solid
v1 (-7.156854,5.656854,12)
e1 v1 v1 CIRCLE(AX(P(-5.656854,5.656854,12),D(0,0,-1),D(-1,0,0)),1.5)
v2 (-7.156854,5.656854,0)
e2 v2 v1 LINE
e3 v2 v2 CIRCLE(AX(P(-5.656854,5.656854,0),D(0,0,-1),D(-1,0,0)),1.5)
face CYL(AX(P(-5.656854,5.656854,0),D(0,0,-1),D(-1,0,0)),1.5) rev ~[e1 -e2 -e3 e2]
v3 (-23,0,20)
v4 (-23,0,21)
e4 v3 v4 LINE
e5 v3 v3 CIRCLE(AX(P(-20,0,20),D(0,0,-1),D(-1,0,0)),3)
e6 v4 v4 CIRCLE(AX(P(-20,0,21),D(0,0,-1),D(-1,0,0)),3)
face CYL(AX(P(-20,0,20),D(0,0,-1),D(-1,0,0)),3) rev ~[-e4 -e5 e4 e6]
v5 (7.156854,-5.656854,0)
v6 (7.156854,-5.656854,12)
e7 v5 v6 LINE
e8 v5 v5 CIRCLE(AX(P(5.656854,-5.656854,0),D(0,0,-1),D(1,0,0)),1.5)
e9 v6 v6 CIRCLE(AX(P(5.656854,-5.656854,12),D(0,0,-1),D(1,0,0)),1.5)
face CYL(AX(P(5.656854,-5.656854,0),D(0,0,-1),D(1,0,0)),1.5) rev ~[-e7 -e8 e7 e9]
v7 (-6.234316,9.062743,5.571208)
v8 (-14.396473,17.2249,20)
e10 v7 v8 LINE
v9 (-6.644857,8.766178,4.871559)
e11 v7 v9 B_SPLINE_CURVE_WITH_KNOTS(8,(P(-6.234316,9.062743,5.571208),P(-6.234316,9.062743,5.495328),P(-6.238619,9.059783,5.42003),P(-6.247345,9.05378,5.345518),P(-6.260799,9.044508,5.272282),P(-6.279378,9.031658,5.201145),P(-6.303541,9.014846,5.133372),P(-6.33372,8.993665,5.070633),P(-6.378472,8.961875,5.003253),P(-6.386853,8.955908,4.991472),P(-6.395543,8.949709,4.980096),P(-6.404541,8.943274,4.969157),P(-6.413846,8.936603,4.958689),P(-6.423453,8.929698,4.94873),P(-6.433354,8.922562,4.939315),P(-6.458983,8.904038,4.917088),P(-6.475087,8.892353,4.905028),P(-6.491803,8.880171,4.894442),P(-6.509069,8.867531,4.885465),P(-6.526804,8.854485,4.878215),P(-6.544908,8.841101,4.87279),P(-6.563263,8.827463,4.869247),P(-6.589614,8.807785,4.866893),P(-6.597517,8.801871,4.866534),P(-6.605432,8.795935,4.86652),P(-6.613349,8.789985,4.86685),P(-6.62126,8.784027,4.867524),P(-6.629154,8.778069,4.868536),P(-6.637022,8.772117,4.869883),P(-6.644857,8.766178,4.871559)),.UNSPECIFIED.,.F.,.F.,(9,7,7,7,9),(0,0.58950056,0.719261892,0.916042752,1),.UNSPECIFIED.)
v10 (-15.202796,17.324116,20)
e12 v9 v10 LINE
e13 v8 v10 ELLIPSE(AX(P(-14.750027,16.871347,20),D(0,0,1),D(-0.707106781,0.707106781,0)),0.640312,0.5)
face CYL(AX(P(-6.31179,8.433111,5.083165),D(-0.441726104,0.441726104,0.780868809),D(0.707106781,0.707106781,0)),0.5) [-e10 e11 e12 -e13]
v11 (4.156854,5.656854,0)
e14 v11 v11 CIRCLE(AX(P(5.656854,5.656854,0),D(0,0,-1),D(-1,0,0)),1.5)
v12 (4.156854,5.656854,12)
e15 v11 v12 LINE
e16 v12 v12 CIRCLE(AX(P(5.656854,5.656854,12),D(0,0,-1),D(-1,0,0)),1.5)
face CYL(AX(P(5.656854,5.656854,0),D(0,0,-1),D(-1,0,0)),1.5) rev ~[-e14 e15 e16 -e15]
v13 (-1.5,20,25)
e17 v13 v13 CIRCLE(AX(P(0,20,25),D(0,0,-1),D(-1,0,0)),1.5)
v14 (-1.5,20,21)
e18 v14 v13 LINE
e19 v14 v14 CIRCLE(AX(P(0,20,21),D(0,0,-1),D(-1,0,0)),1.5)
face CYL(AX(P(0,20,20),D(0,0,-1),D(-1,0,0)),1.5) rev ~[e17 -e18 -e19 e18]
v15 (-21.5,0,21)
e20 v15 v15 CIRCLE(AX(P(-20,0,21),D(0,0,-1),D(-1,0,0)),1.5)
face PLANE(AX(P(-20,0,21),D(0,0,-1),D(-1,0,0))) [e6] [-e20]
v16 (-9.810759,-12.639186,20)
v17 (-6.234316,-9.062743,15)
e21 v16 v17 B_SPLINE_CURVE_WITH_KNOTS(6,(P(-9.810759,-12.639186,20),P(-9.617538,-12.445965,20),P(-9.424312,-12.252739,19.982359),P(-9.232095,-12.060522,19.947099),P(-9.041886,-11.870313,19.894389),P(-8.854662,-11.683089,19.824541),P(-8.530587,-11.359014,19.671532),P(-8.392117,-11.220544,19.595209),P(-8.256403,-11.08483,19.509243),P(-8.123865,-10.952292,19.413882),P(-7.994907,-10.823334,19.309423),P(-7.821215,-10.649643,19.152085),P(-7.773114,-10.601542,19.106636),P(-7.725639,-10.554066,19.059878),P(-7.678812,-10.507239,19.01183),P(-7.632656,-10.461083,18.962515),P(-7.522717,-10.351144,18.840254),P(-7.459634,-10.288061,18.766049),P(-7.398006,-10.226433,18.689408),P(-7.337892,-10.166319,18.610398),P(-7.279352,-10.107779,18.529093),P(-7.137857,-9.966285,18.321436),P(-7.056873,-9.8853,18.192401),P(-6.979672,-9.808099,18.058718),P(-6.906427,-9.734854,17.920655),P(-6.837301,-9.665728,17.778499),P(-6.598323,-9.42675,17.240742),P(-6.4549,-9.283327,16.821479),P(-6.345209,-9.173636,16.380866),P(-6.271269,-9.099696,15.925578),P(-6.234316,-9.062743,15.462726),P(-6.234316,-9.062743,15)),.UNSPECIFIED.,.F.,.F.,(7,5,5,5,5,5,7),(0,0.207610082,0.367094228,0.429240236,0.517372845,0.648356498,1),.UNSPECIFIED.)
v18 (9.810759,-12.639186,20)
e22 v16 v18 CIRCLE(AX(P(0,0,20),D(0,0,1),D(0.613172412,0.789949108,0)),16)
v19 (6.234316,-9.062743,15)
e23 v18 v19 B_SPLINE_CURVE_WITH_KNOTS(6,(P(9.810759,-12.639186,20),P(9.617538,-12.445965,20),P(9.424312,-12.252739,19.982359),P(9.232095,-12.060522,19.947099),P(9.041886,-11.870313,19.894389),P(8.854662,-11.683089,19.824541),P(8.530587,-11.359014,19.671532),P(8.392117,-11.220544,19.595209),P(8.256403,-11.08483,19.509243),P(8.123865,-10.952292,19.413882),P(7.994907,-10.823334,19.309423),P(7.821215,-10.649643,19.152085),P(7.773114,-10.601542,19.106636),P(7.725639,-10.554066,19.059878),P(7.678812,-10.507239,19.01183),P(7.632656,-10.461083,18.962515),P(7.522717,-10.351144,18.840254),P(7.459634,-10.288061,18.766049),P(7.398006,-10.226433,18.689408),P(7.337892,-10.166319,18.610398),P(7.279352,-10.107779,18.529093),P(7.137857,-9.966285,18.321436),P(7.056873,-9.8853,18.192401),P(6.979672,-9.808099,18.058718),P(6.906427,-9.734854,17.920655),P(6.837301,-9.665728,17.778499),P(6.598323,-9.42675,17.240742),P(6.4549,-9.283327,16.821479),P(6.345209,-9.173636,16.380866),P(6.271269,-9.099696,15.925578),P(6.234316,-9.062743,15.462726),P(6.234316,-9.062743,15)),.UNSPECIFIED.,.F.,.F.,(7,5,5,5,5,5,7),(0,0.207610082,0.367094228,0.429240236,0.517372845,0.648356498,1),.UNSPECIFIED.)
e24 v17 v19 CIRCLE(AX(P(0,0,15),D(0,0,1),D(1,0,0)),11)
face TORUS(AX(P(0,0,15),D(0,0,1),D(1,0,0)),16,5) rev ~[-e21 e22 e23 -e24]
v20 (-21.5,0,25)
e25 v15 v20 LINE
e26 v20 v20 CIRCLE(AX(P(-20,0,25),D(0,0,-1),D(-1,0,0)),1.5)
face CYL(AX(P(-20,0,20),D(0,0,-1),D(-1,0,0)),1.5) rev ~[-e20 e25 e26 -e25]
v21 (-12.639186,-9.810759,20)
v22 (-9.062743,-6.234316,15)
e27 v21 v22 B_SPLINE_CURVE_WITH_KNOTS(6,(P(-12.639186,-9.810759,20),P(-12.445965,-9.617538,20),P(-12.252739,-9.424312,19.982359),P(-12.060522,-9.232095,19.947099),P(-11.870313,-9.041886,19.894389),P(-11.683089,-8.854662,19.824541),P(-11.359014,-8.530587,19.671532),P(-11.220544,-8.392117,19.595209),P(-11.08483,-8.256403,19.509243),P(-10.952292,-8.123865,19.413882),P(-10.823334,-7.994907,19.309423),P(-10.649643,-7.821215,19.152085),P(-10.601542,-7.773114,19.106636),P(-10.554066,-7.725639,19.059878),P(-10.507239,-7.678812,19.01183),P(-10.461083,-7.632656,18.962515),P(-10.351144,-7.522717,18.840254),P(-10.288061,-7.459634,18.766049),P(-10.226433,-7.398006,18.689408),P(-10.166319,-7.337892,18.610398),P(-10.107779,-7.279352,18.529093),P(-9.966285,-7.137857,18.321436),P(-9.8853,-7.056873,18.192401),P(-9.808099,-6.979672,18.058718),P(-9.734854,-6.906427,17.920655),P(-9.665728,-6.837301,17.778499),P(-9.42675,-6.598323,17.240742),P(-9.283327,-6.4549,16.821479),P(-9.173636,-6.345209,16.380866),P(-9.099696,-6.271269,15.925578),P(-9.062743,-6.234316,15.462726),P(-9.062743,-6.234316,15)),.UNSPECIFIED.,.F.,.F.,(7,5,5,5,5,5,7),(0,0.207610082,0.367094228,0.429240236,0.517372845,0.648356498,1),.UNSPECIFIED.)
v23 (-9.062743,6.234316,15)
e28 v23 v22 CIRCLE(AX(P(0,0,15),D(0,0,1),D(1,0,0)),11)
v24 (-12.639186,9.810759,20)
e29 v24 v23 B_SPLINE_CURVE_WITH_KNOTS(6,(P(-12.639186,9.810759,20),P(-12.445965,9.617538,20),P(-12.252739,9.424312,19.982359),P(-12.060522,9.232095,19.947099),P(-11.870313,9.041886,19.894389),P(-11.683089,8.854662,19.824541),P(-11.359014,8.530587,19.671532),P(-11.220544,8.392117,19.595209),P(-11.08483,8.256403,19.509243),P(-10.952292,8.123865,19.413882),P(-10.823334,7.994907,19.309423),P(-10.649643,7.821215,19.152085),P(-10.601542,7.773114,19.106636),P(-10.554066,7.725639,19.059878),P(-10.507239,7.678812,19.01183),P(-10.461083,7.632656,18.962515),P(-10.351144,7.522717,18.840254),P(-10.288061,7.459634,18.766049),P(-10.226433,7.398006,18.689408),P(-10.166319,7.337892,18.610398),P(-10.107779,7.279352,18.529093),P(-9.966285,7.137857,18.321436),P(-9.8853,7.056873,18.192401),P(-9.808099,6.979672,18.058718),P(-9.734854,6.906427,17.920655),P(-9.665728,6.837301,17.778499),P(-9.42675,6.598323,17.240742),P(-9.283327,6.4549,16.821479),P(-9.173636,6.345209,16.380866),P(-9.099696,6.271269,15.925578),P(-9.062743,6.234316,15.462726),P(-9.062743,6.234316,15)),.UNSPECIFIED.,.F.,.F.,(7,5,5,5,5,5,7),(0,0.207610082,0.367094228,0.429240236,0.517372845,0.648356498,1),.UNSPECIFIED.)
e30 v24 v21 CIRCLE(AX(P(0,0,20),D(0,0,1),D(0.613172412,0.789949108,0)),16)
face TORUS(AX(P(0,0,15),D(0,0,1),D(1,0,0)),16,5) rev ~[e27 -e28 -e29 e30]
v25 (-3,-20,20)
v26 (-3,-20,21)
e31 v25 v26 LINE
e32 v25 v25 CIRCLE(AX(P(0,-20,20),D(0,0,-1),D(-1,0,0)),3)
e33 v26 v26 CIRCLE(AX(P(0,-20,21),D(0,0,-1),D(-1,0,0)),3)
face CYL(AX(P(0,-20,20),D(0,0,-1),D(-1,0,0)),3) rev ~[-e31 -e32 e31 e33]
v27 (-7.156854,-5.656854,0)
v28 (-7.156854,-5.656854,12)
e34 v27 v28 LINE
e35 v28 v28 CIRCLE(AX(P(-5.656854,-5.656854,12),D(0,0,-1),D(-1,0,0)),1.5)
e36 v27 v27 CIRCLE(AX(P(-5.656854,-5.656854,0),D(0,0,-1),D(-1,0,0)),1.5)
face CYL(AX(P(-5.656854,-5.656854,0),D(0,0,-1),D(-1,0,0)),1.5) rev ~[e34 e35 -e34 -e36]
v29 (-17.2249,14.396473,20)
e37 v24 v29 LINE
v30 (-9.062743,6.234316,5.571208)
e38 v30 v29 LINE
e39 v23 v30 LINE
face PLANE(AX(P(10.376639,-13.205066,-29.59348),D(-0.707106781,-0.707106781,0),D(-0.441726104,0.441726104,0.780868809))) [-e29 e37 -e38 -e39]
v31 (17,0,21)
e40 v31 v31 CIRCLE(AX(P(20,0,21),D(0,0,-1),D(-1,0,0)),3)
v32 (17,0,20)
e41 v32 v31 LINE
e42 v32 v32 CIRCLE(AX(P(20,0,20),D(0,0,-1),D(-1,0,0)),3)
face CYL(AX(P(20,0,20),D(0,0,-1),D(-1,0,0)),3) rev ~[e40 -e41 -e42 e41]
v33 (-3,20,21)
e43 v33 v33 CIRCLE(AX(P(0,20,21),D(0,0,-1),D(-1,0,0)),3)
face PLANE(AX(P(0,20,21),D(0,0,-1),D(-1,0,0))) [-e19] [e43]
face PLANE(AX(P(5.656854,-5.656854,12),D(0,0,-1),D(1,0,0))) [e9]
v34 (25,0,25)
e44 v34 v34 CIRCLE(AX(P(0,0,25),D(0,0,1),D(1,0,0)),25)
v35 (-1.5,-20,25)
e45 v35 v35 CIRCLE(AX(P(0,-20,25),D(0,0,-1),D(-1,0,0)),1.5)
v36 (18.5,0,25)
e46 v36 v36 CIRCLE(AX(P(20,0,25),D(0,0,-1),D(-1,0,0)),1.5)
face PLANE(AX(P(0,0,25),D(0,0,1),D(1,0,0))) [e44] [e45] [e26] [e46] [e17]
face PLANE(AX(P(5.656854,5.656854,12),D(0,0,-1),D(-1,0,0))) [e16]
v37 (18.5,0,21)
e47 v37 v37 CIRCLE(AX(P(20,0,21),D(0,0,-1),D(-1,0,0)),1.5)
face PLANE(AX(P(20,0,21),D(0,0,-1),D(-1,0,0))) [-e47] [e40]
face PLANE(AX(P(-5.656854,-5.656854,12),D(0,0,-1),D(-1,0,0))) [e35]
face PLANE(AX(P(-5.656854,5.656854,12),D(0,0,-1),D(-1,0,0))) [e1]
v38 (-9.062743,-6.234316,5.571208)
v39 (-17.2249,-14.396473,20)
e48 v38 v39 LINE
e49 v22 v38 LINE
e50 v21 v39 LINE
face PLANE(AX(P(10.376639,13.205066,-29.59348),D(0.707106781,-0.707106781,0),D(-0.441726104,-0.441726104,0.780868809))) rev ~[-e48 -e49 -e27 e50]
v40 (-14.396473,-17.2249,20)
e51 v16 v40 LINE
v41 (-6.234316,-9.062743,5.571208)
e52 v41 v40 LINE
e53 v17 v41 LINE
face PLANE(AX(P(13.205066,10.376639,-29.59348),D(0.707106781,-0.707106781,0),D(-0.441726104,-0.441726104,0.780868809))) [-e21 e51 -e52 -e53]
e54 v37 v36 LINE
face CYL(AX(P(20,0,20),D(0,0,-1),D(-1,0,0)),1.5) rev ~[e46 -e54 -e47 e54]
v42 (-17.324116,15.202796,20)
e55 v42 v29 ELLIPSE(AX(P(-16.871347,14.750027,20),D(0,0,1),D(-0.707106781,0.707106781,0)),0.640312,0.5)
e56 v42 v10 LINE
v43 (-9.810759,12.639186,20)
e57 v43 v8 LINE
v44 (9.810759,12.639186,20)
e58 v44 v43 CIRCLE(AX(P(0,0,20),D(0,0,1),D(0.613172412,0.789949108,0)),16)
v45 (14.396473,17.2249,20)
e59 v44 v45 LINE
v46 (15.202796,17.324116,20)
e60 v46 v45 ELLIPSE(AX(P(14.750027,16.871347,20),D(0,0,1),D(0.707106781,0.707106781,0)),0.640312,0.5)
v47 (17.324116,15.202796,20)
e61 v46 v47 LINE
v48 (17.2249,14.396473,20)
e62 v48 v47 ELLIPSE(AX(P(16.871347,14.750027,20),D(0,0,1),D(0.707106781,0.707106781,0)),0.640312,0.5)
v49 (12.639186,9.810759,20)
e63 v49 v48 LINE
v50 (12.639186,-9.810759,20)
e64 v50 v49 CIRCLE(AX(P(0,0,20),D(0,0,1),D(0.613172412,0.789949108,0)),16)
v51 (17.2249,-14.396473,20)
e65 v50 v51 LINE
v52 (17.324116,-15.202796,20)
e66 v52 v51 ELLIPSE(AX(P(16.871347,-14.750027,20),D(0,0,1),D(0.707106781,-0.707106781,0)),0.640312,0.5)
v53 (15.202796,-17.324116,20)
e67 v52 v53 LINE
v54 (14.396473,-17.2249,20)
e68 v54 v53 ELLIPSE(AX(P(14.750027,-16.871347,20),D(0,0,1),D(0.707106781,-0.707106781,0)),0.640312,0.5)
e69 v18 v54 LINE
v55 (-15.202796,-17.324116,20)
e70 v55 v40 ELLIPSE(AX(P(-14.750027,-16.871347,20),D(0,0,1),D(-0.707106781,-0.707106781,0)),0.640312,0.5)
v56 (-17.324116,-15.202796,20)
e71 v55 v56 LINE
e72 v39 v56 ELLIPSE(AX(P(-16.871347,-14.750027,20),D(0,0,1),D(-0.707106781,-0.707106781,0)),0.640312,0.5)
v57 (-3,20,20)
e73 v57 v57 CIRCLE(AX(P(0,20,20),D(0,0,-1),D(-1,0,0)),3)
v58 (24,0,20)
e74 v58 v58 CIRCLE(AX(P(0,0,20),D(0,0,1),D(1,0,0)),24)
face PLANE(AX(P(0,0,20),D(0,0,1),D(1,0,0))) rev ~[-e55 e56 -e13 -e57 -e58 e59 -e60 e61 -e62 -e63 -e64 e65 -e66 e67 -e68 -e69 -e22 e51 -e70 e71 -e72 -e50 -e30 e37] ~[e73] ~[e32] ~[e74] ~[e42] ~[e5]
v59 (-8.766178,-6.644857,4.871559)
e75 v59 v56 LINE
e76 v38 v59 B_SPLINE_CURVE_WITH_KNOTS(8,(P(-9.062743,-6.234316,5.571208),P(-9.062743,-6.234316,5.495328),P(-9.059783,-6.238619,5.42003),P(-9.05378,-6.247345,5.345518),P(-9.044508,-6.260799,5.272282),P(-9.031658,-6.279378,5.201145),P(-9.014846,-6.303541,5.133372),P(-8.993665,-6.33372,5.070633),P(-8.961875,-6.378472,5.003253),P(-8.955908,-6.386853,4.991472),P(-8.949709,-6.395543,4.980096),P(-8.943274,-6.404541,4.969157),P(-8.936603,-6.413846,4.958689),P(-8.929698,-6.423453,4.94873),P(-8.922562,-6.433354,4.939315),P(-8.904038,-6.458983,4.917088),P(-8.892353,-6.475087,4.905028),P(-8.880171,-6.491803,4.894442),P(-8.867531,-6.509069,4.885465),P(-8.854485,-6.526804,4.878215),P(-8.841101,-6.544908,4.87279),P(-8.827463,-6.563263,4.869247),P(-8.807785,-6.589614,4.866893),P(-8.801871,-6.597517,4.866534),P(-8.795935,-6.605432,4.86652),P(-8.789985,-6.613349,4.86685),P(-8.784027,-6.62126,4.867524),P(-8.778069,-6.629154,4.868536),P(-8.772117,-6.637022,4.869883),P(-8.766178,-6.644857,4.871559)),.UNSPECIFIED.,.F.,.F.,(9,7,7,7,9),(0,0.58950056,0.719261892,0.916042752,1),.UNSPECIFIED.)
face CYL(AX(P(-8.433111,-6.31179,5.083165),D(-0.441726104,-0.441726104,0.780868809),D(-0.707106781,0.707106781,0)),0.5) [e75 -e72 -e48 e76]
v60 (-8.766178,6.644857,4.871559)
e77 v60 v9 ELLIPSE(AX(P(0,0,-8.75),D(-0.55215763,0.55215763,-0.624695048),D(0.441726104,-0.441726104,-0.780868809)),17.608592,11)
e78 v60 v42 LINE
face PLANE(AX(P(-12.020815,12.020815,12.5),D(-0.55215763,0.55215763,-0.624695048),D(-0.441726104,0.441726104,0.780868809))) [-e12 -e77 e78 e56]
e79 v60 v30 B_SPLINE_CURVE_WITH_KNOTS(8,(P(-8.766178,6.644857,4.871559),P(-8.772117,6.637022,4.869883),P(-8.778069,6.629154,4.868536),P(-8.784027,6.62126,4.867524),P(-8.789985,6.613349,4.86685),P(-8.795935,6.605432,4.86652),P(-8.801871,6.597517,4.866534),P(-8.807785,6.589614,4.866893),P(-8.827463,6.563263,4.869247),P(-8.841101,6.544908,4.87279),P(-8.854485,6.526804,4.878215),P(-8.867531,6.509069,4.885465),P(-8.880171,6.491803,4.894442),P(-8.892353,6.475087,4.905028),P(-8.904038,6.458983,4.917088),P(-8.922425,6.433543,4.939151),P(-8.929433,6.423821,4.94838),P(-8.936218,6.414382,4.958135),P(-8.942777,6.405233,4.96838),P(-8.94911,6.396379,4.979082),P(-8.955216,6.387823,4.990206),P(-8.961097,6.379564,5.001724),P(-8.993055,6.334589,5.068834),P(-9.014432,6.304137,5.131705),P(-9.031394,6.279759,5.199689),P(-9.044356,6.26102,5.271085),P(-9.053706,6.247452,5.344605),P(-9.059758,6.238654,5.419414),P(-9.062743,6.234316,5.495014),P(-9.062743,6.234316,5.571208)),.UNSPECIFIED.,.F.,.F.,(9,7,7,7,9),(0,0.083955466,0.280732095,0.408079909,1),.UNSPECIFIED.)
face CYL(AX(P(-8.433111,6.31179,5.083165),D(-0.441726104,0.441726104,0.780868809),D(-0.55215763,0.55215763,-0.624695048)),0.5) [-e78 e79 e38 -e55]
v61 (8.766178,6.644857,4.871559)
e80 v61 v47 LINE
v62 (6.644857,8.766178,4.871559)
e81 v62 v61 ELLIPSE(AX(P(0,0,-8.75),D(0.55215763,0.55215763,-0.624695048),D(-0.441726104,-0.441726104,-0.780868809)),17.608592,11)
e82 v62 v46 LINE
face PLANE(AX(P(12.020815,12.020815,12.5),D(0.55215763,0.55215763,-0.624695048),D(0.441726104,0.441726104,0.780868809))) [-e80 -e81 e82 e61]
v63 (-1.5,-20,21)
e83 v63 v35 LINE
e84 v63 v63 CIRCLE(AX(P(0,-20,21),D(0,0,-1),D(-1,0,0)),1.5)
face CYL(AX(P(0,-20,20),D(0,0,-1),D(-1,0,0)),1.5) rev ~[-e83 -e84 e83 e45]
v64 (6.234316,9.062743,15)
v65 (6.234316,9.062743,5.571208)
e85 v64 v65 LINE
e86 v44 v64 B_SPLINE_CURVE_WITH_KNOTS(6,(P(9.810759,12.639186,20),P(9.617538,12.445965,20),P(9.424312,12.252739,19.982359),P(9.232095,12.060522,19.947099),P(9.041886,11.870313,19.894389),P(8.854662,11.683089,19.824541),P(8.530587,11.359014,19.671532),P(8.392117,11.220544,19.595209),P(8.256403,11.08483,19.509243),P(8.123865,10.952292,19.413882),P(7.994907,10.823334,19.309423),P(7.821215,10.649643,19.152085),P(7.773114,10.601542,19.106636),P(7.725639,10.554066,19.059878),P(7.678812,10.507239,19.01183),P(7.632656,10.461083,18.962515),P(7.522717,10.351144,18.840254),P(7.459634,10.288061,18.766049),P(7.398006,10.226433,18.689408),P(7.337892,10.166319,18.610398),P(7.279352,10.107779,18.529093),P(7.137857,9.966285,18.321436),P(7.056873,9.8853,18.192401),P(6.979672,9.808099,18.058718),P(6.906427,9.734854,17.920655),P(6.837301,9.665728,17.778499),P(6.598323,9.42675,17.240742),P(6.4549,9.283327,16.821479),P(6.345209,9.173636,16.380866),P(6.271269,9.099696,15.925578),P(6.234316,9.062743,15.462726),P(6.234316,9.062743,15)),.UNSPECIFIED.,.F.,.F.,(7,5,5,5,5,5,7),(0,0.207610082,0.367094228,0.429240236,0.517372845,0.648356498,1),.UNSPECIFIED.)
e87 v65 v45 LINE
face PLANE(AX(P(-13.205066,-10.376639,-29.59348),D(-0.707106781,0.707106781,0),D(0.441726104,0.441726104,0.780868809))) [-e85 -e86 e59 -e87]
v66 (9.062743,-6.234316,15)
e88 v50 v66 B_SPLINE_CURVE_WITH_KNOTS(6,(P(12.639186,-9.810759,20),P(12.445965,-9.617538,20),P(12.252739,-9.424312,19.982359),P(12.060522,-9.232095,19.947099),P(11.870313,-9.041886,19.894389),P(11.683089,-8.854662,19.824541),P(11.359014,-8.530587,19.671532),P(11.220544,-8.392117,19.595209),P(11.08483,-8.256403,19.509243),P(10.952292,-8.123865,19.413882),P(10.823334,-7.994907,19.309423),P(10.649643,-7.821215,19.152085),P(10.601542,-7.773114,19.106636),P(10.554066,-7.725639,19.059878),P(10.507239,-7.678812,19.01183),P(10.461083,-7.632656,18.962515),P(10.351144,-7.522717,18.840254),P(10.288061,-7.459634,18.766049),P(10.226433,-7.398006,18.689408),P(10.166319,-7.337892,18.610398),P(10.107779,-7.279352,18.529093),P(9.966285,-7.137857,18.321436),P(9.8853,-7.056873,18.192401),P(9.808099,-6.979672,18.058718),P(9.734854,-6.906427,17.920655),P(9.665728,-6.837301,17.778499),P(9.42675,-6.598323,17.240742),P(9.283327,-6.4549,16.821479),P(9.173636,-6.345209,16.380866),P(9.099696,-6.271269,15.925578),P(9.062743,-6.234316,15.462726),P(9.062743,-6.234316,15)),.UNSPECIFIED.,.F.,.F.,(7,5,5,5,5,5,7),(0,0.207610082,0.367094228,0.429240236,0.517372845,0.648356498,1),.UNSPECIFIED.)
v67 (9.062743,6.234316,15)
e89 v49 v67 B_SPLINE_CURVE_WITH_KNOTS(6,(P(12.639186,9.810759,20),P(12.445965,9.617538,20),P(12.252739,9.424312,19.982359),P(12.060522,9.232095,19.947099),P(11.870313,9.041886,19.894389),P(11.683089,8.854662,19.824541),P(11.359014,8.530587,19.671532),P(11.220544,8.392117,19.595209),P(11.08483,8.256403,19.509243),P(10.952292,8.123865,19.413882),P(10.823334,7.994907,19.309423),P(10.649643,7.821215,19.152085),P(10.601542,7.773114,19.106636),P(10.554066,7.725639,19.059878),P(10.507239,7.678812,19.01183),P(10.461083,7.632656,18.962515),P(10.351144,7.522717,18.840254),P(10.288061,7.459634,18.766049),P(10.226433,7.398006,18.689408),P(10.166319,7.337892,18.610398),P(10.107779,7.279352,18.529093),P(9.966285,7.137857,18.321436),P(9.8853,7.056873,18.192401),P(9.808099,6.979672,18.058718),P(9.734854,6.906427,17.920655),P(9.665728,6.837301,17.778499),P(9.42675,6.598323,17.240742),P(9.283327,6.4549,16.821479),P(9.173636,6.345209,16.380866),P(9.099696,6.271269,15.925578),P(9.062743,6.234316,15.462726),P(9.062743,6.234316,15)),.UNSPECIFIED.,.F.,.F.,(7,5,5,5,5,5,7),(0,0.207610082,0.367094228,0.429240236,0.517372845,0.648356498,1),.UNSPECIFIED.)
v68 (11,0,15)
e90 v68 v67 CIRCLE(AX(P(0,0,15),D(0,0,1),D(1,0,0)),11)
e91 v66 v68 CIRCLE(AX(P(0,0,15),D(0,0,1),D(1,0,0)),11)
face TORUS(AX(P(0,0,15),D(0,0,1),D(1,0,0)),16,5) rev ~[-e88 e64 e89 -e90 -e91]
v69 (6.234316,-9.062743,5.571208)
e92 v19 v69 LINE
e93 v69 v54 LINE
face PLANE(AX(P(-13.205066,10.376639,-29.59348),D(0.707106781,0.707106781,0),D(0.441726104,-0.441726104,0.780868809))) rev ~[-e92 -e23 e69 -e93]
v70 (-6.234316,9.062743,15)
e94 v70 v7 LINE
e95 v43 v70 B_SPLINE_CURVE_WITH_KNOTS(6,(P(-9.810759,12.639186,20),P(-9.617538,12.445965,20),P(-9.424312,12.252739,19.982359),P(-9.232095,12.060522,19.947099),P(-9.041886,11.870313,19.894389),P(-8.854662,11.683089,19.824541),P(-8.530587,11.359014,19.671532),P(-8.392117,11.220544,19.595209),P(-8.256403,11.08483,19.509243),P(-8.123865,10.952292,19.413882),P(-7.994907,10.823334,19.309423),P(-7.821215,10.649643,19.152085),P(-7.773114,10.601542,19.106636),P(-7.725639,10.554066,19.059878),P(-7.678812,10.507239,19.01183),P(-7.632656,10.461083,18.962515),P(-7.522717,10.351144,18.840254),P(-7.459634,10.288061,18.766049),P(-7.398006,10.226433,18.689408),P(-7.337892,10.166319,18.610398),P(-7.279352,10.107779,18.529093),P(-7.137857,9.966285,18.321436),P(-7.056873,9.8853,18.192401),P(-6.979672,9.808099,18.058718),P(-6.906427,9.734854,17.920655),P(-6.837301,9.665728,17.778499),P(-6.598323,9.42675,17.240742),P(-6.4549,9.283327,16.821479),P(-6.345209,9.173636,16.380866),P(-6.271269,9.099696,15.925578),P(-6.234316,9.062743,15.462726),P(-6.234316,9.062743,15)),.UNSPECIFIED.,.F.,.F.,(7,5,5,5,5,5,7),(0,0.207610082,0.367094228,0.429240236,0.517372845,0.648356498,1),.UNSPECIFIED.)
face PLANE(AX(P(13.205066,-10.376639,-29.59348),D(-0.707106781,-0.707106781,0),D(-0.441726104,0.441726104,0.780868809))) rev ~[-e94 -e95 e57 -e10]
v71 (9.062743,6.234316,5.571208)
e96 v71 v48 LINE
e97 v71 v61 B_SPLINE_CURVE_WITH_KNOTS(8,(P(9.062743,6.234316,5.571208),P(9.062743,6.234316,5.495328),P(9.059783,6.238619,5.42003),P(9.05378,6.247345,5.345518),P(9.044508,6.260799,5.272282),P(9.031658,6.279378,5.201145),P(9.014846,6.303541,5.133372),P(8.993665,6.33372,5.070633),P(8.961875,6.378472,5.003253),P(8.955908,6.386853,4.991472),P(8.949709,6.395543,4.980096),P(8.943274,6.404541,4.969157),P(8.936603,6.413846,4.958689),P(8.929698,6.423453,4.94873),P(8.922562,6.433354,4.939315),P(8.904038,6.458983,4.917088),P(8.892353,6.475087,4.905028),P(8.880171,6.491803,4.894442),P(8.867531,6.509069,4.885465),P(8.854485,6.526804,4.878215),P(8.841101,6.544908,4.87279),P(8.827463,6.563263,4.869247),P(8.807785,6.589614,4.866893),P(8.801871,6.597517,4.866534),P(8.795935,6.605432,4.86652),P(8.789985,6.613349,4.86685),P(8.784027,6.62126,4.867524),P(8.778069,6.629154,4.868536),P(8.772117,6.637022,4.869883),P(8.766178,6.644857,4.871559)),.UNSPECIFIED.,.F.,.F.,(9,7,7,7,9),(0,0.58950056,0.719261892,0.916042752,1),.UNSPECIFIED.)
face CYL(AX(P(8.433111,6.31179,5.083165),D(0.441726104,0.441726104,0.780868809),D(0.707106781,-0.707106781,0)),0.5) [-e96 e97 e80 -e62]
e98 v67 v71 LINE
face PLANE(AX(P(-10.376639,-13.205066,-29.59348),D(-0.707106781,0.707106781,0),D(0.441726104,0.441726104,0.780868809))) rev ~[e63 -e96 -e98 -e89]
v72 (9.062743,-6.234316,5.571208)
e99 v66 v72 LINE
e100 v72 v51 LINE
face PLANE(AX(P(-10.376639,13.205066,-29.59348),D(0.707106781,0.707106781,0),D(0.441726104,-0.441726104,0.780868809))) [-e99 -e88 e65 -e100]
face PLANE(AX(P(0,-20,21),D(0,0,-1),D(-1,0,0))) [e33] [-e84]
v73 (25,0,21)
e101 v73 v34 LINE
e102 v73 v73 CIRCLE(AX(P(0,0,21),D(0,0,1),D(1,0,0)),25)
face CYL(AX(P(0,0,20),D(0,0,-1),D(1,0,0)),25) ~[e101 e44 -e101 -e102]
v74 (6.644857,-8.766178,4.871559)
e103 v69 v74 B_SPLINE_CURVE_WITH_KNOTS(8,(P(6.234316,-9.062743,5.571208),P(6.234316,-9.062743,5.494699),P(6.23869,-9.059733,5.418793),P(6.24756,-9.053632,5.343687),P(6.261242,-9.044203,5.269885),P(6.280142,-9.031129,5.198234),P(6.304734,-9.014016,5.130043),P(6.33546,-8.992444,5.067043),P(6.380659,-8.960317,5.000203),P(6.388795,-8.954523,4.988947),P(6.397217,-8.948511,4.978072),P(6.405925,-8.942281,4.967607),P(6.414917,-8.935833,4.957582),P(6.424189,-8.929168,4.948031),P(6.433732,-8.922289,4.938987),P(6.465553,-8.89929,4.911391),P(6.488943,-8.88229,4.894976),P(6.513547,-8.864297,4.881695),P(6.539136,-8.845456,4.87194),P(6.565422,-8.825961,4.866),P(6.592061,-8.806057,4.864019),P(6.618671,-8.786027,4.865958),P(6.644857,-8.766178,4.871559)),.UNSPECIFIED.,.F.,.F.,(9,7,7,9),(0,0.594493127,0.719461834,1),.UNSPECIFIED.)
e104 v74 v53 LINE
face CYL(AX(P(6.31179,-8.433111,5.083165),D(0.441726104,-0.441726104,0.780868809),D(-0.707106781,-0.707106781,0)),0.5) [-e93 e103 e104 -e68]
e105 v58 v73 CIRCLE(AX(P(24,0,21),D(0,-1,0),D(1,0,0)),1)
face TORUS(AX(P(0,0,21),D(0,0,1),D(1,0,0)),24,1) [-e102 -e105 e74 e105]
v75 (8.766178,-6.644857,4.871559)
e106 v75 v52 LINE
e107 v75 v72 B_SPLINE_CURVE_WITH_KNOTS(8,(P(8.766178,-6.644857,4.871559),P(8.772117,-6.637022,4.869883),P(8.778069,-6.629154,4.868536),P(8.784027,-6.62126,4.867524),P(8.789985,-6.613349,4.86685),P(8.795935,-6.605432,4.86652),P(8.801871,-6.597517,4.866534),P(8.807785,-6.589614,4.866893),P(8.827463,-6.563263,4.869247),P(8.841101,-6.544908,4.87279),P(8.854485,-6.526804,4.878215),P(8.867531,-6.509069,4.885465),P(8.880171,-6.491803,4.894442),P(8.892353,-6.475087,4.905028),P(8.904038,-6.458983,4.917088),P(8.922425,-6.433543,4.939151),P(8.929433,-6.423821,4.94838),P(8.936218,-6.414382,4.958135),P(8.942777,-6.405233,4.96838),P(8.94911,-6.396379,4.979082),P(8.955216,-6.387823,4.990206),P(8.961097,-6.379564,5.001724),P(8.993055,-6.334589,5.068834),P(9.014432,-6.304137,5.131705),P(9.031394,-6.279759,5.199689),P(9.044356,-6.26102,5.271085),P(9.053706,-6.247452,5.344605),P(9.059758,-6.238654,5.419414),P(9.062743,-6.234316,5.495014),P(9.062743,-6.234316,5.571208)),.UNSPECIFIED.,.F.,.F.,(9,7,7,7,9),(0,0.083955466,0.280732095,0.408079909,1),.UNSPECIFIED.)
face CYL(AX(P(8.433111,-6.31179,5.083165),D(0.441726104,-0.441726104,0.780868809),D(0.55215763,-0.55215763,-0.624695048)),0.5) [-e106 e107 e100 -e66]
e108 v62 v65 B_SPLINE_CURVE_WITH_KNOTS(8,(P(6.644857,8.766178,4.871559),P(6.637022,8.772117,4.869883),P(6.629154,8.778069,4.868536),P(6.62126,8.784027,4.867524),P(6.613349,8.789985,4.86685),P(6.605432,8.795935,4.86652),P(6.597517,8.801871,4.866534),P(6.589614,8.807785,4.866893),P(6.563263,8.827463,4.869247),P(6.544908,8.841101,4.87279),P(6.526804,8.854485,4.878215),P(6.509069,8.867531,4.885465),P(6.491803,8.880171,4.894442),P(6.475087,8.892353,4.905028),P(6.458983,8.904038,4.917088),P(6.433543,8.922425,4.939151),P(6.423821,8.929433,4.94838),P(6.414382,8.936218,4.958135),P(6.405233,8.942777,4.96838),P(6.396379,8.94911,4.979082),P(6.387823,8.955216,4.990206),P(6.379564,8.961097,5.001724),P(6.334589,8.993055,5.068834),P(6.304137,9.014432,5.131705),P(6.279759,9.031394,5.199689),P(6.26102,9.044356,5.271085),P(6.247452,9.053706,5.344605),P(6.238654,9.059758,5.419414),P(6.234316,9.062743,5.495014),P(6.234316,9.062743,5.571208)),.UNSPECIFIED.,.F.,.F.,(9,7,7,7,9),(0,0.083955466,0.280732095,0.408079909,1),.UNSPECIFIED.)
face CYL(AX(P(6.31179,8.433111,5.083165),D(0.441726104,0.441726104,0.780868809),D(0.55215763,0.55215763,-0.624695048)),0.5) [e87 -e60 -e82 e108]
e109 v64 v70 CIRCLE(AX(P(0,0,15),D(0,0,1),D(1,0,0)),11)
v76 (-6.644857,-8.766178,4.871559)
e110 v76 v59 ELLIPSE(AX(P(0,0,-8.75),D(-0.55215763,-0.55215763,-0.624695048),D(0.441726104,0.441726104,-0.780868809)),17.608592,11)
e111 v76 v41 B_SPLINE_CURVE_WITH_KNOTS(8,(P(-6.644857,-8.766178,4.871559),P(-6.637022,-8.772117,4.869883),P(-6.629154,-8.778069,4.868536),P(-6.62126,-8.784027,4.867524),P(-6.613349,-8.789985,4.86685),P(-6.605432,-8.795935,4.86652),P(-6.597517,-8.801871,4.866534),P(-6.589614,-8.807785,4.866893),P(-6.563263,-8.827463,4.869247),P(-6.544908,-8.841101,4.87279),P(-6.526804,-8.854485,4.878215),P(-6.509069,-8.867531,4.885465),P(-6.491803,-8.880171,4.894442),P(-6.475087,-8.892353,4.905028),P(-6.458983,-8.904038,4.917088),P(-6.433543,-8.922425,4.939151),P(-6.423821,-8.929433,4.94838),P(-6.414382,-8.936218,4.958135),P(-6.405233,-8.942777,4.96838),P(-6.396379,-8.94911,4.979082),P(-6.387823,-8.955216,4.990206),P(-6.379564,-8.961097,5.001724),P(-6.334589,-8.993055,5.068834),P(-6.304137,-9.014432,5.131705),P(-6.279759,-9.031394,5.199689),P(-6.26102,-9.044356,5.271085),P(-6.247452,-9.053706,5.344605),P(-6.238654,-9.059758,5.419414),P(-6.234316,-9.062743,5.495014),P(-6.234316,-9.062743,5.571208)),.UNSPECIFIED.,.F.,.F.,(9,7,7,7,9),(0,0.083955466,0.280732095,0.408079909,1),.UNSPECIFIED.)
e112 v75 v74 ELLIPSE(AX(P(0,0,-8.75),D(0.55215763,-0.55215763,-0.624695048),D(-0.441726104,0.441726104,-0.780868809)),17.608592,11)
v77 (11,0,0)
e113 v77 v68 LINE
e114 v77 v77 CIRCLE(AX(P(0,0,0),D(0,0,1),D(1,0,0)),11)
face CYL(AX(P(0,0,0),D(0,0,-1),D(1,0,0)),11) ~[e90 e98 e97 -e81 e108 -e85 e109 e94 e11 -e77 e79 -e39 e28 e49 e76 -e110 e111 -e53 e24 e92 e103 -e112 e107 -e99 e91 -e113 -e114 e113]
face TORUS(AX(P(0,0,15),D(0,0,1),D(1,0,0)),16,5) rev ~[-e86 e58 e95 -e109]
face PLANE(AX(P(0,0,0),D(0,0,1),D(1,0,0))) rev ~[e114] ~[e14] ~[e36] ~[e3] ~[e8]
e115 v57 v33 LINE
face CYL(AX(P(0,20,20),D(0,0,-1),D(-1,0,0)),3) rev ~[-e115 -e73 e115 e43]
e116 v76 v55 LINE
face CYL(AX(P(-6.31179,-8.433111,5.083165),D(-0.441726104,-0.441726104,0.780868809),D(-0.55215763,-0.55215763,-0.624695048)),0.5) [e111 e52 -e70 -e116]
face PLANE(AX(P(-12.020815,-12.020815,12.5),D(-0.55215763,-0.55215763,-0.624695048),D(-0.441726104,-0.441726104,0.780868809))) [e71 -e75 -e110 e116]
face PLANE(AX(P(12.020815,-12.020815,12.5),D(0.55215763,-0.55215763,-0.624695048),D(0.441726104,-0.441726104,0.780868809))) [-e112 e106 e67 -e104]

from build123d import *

# Parameters (mm, degrees)
SKETCH1_R           = 11
BOSS_EXTRUDE1_DEPTH = 20
SKETCH5_R           = 25
BOSS_EXTRUDE2_DEPTH = 5
CUT_EXTRUDE2_REACH  = 42.62
SKETCH6_R           = 1.5
FILLET2_R           = 5
RIB10_REACH         = 45.301
SKETCH12_WALL_W     = 107.81191309
SKETCH12_WALL_H     = 4
CIRPATTERN1_COUNT   = 4
FILLET3_R           = 1
FILLET4_R           = 0.5
SKETCH13_R          = 3
CUT_EXTRUDE3_DEPTH  = 1
SKETCH14_R          = 1.5
CUT_EXTRUDE4_DEPTH  = 12


with BuildPart() as part:
    # Sketch1 → Boss-Extrude1 (new body)
    with BuildSketch(Plane.XY):
        Circle(SKETCH1_R)
    extrude(amount=BOSS_EXTRUDE1_DEPTH)

    # Sketch5 → Boss-Extrude2 (add)
    with BuildSketch(Plane.XY.offset(20)):
        Circle(SKETCH5_R)
    extrude(amount=BOSS_EXTRUDE2_DEPTH)

    # Sketch6 → Cut-Extrude2 (cut, up to next)
    with BuildSketch(Plane(origin=(0, 0, 20), x_dir=(-1, 0, 0), z_dir=(0, 0, -1)), mode=Mode.PRIVATE) as cut_extrude2_sk1:
        with Locations((0, 20)):
            Circle(SKETCH6_R)
    cut_extrude2_tool1 = extrude(cut_extrude2_sk1.sketch, amount=-CUT_EXTRUDE2_REACH, mode=Mode.PRIVATE) & part.part
    # Sketch6 → Cut-Extrude2 (cut, up to next)
    with BuildSketch(Plane(origin=(0, 0, 20), x_dir=(-1, 0, 0), z_dir=(0, 0, -1)), mode=Mode.PRIVATE) as cut_extrude2_sk2:
        with Locations((0, -20)):
            Circle(SKETCH6_R)
    cut_extrude2_tool2 = extrude(cut_extrude2_sk2.sketch, amount=-CUT_EXTRUDE2_REACH, mode=Mode.PRIVATE) & part.part
    # Sketch6 → Cut-Extrude2 (cut, up to next)
    with BuildSketch(Plane(origin=(0, 0, 20), x_dir=(-1, 0, 0), z_dir=(0, 0, -1)), mode=Mode.PRIVATE) as cut_extrude2_sk3:
        with Locations((-20, 0)):
            Circle(SKETCH6_R)
    cut_extrude2_tool3 = extrude(cut_extrude2_sk3.sketch, amount=-CUT_EXTRUDE2_REACH, mode=Mode.PRIVATE) & part.part
    # Sketch6 → Cut-Extrude2 (cut, up to next)
    with BuildSketch(Plane(origin=(0, 0, 20), x_dir=(-1, 0, 0), z_dir=(0, 0, -1)), mode=Mode.PRIVATE) as cut_extrude2_sk4:
        with Locations((20, 0)):
            Circle(SKETCH6_R)
    cut_extrude2_tool4 = extrude(cut_extrude2_sk4.sketch, amount=-CUT_EXTRUDE2_REACH, mode=Mode.PRIVATE) & part.part
    add(cut_extrude2_tool1.solids().sort_by_distance((0, 20, 20))[0], mode=Mode.SUBTRACT)
    add(cut_extrude2_tool2.solids().sort_by_distance((0, -20, 20))[0], mode=Mode.SUBTRACT)
    add(cut_extrude2_tool3.solids().sort_by_distance((20, 0, 20))[0], mode=Mode.SUBTRACT)
    add(cut_extrude2_tool4.solids().sort_by_distance((-20, 0, 20))[0], mode=Mode.SUBTRACT)

    # Fillet2
    fillet2_edges = [part.edges().sort_by_distance(p)[0] for p in [
        (-11, 0, 20),
    ]]
    fillet(fillet2_edges, radius=FILLET2_R)

    # Sketch12 wall → Rib10 (add, up to next)
    with BuildSketch(Plane(origin=(12.02081528, 12.02081528, 12.5), x_dir=(0.441726104292, 0.441726104292, 0.780868809452), z_dir=(0.55215763038, 0.55215763038, -0.624695047544)), mode=Mode.PRIVATE) as rib10_sk1:
        Rectangle(SKETCH12_WALL_W, SKETCH12_WALL_H)
    rib10_tool1 = extrude(rib10_sk1.sketch, amount=-RIB10_REACH, mode=Mode.PRIVATE) - part.part
    rib10 = rib10_tool1.solids().sort_by_distance((12.02081528, 12.02081528, 12.5))[0]
    add(rib10)

    # CirPattern1: Rib10 ×4 about axis
    cirpattern1_axis = Axis((0, 0, 0), (0, 0, 1))
    for i in range(1, CIRPATTERN1_COUNT):
        add(rib10.rotate(cirpattern1_axis, i * 360 / CIRPATTERN1_COUNT))

    # Fillet3
    fillet3_edges = [part.edges().sort_by_distance(p)[0] for p in [
        (-25, 0, 20),
    ]]
    fillet(fillet3_edges, radius=FILLET3_R)

    # Fillet4
    fillet4_edges = [part.edges().sort_by_distance(p)[0] for p in [
        (10.541779056, -13.370206181, 12.385408642),
        (13.370206181, -10.541779056, 12.385408642),
        (-10.541779056, -13.370206181, 12.385408642),
        (-13.370206181, -10.541779056, 12.385408642),
        (13.370206181, 10.541779056, 12.385408642),
        (10.541779056, 13.370206181, 12.385408642),
        (-13.370206181, 10.541779056, 12.385408642),
        (-10.541779056, 13.370206181, 12.385408642),
    ]]
    fillet(fillet4_edges, radius=FILLET4_R)

    # Sketch13 → Cut-Extrude3 (cut)
    with BuildSketch(Plane(origin=(0, 0, 20), x_dir=(-1, 0, 0), z_dir=(0, 0, -1))):
        with Locations((-20, 0)):
            Circle(SKETCH13_R)
        with Locations((0, 20)):
            Circle(SKETCH13_R)
        with Locations((20, 0)):
            Circle(SKETCH13_R)
        with Locations((0, -20)):
            Circle(SKETCH13_R)
    extrude(amount=-CUT_EXTRUDE3_DEPTH, mode=Mode.SUBTRACT)

    # Sketch14 → Cut-Extrude4 (cut)
    with BuildSketch(Plane(origin=(0, 0, 0), x_dir=(-1, 0, 0), z_dir=(0, 0, -1))):
        with Locations((-5.656854249, 5.656854249)):
            Circle(SKETCH14_R)
        with Locations((5.656854249, -5.656854249)):
            Circle(SKETCH14_R)
        with Locations((5.656854249, 5.656854249)):
            Circle(SKETCH14_R)
        with Locations(Location((-5.656854249, -5.656854249, 0), (0, 0, 180))):
            Circle(SKETCH14_R)
    extrude(amount=-CUT_EXTRUDE4_DEPTH, mode=Mode.SUBTRACT)


solid = part.part
